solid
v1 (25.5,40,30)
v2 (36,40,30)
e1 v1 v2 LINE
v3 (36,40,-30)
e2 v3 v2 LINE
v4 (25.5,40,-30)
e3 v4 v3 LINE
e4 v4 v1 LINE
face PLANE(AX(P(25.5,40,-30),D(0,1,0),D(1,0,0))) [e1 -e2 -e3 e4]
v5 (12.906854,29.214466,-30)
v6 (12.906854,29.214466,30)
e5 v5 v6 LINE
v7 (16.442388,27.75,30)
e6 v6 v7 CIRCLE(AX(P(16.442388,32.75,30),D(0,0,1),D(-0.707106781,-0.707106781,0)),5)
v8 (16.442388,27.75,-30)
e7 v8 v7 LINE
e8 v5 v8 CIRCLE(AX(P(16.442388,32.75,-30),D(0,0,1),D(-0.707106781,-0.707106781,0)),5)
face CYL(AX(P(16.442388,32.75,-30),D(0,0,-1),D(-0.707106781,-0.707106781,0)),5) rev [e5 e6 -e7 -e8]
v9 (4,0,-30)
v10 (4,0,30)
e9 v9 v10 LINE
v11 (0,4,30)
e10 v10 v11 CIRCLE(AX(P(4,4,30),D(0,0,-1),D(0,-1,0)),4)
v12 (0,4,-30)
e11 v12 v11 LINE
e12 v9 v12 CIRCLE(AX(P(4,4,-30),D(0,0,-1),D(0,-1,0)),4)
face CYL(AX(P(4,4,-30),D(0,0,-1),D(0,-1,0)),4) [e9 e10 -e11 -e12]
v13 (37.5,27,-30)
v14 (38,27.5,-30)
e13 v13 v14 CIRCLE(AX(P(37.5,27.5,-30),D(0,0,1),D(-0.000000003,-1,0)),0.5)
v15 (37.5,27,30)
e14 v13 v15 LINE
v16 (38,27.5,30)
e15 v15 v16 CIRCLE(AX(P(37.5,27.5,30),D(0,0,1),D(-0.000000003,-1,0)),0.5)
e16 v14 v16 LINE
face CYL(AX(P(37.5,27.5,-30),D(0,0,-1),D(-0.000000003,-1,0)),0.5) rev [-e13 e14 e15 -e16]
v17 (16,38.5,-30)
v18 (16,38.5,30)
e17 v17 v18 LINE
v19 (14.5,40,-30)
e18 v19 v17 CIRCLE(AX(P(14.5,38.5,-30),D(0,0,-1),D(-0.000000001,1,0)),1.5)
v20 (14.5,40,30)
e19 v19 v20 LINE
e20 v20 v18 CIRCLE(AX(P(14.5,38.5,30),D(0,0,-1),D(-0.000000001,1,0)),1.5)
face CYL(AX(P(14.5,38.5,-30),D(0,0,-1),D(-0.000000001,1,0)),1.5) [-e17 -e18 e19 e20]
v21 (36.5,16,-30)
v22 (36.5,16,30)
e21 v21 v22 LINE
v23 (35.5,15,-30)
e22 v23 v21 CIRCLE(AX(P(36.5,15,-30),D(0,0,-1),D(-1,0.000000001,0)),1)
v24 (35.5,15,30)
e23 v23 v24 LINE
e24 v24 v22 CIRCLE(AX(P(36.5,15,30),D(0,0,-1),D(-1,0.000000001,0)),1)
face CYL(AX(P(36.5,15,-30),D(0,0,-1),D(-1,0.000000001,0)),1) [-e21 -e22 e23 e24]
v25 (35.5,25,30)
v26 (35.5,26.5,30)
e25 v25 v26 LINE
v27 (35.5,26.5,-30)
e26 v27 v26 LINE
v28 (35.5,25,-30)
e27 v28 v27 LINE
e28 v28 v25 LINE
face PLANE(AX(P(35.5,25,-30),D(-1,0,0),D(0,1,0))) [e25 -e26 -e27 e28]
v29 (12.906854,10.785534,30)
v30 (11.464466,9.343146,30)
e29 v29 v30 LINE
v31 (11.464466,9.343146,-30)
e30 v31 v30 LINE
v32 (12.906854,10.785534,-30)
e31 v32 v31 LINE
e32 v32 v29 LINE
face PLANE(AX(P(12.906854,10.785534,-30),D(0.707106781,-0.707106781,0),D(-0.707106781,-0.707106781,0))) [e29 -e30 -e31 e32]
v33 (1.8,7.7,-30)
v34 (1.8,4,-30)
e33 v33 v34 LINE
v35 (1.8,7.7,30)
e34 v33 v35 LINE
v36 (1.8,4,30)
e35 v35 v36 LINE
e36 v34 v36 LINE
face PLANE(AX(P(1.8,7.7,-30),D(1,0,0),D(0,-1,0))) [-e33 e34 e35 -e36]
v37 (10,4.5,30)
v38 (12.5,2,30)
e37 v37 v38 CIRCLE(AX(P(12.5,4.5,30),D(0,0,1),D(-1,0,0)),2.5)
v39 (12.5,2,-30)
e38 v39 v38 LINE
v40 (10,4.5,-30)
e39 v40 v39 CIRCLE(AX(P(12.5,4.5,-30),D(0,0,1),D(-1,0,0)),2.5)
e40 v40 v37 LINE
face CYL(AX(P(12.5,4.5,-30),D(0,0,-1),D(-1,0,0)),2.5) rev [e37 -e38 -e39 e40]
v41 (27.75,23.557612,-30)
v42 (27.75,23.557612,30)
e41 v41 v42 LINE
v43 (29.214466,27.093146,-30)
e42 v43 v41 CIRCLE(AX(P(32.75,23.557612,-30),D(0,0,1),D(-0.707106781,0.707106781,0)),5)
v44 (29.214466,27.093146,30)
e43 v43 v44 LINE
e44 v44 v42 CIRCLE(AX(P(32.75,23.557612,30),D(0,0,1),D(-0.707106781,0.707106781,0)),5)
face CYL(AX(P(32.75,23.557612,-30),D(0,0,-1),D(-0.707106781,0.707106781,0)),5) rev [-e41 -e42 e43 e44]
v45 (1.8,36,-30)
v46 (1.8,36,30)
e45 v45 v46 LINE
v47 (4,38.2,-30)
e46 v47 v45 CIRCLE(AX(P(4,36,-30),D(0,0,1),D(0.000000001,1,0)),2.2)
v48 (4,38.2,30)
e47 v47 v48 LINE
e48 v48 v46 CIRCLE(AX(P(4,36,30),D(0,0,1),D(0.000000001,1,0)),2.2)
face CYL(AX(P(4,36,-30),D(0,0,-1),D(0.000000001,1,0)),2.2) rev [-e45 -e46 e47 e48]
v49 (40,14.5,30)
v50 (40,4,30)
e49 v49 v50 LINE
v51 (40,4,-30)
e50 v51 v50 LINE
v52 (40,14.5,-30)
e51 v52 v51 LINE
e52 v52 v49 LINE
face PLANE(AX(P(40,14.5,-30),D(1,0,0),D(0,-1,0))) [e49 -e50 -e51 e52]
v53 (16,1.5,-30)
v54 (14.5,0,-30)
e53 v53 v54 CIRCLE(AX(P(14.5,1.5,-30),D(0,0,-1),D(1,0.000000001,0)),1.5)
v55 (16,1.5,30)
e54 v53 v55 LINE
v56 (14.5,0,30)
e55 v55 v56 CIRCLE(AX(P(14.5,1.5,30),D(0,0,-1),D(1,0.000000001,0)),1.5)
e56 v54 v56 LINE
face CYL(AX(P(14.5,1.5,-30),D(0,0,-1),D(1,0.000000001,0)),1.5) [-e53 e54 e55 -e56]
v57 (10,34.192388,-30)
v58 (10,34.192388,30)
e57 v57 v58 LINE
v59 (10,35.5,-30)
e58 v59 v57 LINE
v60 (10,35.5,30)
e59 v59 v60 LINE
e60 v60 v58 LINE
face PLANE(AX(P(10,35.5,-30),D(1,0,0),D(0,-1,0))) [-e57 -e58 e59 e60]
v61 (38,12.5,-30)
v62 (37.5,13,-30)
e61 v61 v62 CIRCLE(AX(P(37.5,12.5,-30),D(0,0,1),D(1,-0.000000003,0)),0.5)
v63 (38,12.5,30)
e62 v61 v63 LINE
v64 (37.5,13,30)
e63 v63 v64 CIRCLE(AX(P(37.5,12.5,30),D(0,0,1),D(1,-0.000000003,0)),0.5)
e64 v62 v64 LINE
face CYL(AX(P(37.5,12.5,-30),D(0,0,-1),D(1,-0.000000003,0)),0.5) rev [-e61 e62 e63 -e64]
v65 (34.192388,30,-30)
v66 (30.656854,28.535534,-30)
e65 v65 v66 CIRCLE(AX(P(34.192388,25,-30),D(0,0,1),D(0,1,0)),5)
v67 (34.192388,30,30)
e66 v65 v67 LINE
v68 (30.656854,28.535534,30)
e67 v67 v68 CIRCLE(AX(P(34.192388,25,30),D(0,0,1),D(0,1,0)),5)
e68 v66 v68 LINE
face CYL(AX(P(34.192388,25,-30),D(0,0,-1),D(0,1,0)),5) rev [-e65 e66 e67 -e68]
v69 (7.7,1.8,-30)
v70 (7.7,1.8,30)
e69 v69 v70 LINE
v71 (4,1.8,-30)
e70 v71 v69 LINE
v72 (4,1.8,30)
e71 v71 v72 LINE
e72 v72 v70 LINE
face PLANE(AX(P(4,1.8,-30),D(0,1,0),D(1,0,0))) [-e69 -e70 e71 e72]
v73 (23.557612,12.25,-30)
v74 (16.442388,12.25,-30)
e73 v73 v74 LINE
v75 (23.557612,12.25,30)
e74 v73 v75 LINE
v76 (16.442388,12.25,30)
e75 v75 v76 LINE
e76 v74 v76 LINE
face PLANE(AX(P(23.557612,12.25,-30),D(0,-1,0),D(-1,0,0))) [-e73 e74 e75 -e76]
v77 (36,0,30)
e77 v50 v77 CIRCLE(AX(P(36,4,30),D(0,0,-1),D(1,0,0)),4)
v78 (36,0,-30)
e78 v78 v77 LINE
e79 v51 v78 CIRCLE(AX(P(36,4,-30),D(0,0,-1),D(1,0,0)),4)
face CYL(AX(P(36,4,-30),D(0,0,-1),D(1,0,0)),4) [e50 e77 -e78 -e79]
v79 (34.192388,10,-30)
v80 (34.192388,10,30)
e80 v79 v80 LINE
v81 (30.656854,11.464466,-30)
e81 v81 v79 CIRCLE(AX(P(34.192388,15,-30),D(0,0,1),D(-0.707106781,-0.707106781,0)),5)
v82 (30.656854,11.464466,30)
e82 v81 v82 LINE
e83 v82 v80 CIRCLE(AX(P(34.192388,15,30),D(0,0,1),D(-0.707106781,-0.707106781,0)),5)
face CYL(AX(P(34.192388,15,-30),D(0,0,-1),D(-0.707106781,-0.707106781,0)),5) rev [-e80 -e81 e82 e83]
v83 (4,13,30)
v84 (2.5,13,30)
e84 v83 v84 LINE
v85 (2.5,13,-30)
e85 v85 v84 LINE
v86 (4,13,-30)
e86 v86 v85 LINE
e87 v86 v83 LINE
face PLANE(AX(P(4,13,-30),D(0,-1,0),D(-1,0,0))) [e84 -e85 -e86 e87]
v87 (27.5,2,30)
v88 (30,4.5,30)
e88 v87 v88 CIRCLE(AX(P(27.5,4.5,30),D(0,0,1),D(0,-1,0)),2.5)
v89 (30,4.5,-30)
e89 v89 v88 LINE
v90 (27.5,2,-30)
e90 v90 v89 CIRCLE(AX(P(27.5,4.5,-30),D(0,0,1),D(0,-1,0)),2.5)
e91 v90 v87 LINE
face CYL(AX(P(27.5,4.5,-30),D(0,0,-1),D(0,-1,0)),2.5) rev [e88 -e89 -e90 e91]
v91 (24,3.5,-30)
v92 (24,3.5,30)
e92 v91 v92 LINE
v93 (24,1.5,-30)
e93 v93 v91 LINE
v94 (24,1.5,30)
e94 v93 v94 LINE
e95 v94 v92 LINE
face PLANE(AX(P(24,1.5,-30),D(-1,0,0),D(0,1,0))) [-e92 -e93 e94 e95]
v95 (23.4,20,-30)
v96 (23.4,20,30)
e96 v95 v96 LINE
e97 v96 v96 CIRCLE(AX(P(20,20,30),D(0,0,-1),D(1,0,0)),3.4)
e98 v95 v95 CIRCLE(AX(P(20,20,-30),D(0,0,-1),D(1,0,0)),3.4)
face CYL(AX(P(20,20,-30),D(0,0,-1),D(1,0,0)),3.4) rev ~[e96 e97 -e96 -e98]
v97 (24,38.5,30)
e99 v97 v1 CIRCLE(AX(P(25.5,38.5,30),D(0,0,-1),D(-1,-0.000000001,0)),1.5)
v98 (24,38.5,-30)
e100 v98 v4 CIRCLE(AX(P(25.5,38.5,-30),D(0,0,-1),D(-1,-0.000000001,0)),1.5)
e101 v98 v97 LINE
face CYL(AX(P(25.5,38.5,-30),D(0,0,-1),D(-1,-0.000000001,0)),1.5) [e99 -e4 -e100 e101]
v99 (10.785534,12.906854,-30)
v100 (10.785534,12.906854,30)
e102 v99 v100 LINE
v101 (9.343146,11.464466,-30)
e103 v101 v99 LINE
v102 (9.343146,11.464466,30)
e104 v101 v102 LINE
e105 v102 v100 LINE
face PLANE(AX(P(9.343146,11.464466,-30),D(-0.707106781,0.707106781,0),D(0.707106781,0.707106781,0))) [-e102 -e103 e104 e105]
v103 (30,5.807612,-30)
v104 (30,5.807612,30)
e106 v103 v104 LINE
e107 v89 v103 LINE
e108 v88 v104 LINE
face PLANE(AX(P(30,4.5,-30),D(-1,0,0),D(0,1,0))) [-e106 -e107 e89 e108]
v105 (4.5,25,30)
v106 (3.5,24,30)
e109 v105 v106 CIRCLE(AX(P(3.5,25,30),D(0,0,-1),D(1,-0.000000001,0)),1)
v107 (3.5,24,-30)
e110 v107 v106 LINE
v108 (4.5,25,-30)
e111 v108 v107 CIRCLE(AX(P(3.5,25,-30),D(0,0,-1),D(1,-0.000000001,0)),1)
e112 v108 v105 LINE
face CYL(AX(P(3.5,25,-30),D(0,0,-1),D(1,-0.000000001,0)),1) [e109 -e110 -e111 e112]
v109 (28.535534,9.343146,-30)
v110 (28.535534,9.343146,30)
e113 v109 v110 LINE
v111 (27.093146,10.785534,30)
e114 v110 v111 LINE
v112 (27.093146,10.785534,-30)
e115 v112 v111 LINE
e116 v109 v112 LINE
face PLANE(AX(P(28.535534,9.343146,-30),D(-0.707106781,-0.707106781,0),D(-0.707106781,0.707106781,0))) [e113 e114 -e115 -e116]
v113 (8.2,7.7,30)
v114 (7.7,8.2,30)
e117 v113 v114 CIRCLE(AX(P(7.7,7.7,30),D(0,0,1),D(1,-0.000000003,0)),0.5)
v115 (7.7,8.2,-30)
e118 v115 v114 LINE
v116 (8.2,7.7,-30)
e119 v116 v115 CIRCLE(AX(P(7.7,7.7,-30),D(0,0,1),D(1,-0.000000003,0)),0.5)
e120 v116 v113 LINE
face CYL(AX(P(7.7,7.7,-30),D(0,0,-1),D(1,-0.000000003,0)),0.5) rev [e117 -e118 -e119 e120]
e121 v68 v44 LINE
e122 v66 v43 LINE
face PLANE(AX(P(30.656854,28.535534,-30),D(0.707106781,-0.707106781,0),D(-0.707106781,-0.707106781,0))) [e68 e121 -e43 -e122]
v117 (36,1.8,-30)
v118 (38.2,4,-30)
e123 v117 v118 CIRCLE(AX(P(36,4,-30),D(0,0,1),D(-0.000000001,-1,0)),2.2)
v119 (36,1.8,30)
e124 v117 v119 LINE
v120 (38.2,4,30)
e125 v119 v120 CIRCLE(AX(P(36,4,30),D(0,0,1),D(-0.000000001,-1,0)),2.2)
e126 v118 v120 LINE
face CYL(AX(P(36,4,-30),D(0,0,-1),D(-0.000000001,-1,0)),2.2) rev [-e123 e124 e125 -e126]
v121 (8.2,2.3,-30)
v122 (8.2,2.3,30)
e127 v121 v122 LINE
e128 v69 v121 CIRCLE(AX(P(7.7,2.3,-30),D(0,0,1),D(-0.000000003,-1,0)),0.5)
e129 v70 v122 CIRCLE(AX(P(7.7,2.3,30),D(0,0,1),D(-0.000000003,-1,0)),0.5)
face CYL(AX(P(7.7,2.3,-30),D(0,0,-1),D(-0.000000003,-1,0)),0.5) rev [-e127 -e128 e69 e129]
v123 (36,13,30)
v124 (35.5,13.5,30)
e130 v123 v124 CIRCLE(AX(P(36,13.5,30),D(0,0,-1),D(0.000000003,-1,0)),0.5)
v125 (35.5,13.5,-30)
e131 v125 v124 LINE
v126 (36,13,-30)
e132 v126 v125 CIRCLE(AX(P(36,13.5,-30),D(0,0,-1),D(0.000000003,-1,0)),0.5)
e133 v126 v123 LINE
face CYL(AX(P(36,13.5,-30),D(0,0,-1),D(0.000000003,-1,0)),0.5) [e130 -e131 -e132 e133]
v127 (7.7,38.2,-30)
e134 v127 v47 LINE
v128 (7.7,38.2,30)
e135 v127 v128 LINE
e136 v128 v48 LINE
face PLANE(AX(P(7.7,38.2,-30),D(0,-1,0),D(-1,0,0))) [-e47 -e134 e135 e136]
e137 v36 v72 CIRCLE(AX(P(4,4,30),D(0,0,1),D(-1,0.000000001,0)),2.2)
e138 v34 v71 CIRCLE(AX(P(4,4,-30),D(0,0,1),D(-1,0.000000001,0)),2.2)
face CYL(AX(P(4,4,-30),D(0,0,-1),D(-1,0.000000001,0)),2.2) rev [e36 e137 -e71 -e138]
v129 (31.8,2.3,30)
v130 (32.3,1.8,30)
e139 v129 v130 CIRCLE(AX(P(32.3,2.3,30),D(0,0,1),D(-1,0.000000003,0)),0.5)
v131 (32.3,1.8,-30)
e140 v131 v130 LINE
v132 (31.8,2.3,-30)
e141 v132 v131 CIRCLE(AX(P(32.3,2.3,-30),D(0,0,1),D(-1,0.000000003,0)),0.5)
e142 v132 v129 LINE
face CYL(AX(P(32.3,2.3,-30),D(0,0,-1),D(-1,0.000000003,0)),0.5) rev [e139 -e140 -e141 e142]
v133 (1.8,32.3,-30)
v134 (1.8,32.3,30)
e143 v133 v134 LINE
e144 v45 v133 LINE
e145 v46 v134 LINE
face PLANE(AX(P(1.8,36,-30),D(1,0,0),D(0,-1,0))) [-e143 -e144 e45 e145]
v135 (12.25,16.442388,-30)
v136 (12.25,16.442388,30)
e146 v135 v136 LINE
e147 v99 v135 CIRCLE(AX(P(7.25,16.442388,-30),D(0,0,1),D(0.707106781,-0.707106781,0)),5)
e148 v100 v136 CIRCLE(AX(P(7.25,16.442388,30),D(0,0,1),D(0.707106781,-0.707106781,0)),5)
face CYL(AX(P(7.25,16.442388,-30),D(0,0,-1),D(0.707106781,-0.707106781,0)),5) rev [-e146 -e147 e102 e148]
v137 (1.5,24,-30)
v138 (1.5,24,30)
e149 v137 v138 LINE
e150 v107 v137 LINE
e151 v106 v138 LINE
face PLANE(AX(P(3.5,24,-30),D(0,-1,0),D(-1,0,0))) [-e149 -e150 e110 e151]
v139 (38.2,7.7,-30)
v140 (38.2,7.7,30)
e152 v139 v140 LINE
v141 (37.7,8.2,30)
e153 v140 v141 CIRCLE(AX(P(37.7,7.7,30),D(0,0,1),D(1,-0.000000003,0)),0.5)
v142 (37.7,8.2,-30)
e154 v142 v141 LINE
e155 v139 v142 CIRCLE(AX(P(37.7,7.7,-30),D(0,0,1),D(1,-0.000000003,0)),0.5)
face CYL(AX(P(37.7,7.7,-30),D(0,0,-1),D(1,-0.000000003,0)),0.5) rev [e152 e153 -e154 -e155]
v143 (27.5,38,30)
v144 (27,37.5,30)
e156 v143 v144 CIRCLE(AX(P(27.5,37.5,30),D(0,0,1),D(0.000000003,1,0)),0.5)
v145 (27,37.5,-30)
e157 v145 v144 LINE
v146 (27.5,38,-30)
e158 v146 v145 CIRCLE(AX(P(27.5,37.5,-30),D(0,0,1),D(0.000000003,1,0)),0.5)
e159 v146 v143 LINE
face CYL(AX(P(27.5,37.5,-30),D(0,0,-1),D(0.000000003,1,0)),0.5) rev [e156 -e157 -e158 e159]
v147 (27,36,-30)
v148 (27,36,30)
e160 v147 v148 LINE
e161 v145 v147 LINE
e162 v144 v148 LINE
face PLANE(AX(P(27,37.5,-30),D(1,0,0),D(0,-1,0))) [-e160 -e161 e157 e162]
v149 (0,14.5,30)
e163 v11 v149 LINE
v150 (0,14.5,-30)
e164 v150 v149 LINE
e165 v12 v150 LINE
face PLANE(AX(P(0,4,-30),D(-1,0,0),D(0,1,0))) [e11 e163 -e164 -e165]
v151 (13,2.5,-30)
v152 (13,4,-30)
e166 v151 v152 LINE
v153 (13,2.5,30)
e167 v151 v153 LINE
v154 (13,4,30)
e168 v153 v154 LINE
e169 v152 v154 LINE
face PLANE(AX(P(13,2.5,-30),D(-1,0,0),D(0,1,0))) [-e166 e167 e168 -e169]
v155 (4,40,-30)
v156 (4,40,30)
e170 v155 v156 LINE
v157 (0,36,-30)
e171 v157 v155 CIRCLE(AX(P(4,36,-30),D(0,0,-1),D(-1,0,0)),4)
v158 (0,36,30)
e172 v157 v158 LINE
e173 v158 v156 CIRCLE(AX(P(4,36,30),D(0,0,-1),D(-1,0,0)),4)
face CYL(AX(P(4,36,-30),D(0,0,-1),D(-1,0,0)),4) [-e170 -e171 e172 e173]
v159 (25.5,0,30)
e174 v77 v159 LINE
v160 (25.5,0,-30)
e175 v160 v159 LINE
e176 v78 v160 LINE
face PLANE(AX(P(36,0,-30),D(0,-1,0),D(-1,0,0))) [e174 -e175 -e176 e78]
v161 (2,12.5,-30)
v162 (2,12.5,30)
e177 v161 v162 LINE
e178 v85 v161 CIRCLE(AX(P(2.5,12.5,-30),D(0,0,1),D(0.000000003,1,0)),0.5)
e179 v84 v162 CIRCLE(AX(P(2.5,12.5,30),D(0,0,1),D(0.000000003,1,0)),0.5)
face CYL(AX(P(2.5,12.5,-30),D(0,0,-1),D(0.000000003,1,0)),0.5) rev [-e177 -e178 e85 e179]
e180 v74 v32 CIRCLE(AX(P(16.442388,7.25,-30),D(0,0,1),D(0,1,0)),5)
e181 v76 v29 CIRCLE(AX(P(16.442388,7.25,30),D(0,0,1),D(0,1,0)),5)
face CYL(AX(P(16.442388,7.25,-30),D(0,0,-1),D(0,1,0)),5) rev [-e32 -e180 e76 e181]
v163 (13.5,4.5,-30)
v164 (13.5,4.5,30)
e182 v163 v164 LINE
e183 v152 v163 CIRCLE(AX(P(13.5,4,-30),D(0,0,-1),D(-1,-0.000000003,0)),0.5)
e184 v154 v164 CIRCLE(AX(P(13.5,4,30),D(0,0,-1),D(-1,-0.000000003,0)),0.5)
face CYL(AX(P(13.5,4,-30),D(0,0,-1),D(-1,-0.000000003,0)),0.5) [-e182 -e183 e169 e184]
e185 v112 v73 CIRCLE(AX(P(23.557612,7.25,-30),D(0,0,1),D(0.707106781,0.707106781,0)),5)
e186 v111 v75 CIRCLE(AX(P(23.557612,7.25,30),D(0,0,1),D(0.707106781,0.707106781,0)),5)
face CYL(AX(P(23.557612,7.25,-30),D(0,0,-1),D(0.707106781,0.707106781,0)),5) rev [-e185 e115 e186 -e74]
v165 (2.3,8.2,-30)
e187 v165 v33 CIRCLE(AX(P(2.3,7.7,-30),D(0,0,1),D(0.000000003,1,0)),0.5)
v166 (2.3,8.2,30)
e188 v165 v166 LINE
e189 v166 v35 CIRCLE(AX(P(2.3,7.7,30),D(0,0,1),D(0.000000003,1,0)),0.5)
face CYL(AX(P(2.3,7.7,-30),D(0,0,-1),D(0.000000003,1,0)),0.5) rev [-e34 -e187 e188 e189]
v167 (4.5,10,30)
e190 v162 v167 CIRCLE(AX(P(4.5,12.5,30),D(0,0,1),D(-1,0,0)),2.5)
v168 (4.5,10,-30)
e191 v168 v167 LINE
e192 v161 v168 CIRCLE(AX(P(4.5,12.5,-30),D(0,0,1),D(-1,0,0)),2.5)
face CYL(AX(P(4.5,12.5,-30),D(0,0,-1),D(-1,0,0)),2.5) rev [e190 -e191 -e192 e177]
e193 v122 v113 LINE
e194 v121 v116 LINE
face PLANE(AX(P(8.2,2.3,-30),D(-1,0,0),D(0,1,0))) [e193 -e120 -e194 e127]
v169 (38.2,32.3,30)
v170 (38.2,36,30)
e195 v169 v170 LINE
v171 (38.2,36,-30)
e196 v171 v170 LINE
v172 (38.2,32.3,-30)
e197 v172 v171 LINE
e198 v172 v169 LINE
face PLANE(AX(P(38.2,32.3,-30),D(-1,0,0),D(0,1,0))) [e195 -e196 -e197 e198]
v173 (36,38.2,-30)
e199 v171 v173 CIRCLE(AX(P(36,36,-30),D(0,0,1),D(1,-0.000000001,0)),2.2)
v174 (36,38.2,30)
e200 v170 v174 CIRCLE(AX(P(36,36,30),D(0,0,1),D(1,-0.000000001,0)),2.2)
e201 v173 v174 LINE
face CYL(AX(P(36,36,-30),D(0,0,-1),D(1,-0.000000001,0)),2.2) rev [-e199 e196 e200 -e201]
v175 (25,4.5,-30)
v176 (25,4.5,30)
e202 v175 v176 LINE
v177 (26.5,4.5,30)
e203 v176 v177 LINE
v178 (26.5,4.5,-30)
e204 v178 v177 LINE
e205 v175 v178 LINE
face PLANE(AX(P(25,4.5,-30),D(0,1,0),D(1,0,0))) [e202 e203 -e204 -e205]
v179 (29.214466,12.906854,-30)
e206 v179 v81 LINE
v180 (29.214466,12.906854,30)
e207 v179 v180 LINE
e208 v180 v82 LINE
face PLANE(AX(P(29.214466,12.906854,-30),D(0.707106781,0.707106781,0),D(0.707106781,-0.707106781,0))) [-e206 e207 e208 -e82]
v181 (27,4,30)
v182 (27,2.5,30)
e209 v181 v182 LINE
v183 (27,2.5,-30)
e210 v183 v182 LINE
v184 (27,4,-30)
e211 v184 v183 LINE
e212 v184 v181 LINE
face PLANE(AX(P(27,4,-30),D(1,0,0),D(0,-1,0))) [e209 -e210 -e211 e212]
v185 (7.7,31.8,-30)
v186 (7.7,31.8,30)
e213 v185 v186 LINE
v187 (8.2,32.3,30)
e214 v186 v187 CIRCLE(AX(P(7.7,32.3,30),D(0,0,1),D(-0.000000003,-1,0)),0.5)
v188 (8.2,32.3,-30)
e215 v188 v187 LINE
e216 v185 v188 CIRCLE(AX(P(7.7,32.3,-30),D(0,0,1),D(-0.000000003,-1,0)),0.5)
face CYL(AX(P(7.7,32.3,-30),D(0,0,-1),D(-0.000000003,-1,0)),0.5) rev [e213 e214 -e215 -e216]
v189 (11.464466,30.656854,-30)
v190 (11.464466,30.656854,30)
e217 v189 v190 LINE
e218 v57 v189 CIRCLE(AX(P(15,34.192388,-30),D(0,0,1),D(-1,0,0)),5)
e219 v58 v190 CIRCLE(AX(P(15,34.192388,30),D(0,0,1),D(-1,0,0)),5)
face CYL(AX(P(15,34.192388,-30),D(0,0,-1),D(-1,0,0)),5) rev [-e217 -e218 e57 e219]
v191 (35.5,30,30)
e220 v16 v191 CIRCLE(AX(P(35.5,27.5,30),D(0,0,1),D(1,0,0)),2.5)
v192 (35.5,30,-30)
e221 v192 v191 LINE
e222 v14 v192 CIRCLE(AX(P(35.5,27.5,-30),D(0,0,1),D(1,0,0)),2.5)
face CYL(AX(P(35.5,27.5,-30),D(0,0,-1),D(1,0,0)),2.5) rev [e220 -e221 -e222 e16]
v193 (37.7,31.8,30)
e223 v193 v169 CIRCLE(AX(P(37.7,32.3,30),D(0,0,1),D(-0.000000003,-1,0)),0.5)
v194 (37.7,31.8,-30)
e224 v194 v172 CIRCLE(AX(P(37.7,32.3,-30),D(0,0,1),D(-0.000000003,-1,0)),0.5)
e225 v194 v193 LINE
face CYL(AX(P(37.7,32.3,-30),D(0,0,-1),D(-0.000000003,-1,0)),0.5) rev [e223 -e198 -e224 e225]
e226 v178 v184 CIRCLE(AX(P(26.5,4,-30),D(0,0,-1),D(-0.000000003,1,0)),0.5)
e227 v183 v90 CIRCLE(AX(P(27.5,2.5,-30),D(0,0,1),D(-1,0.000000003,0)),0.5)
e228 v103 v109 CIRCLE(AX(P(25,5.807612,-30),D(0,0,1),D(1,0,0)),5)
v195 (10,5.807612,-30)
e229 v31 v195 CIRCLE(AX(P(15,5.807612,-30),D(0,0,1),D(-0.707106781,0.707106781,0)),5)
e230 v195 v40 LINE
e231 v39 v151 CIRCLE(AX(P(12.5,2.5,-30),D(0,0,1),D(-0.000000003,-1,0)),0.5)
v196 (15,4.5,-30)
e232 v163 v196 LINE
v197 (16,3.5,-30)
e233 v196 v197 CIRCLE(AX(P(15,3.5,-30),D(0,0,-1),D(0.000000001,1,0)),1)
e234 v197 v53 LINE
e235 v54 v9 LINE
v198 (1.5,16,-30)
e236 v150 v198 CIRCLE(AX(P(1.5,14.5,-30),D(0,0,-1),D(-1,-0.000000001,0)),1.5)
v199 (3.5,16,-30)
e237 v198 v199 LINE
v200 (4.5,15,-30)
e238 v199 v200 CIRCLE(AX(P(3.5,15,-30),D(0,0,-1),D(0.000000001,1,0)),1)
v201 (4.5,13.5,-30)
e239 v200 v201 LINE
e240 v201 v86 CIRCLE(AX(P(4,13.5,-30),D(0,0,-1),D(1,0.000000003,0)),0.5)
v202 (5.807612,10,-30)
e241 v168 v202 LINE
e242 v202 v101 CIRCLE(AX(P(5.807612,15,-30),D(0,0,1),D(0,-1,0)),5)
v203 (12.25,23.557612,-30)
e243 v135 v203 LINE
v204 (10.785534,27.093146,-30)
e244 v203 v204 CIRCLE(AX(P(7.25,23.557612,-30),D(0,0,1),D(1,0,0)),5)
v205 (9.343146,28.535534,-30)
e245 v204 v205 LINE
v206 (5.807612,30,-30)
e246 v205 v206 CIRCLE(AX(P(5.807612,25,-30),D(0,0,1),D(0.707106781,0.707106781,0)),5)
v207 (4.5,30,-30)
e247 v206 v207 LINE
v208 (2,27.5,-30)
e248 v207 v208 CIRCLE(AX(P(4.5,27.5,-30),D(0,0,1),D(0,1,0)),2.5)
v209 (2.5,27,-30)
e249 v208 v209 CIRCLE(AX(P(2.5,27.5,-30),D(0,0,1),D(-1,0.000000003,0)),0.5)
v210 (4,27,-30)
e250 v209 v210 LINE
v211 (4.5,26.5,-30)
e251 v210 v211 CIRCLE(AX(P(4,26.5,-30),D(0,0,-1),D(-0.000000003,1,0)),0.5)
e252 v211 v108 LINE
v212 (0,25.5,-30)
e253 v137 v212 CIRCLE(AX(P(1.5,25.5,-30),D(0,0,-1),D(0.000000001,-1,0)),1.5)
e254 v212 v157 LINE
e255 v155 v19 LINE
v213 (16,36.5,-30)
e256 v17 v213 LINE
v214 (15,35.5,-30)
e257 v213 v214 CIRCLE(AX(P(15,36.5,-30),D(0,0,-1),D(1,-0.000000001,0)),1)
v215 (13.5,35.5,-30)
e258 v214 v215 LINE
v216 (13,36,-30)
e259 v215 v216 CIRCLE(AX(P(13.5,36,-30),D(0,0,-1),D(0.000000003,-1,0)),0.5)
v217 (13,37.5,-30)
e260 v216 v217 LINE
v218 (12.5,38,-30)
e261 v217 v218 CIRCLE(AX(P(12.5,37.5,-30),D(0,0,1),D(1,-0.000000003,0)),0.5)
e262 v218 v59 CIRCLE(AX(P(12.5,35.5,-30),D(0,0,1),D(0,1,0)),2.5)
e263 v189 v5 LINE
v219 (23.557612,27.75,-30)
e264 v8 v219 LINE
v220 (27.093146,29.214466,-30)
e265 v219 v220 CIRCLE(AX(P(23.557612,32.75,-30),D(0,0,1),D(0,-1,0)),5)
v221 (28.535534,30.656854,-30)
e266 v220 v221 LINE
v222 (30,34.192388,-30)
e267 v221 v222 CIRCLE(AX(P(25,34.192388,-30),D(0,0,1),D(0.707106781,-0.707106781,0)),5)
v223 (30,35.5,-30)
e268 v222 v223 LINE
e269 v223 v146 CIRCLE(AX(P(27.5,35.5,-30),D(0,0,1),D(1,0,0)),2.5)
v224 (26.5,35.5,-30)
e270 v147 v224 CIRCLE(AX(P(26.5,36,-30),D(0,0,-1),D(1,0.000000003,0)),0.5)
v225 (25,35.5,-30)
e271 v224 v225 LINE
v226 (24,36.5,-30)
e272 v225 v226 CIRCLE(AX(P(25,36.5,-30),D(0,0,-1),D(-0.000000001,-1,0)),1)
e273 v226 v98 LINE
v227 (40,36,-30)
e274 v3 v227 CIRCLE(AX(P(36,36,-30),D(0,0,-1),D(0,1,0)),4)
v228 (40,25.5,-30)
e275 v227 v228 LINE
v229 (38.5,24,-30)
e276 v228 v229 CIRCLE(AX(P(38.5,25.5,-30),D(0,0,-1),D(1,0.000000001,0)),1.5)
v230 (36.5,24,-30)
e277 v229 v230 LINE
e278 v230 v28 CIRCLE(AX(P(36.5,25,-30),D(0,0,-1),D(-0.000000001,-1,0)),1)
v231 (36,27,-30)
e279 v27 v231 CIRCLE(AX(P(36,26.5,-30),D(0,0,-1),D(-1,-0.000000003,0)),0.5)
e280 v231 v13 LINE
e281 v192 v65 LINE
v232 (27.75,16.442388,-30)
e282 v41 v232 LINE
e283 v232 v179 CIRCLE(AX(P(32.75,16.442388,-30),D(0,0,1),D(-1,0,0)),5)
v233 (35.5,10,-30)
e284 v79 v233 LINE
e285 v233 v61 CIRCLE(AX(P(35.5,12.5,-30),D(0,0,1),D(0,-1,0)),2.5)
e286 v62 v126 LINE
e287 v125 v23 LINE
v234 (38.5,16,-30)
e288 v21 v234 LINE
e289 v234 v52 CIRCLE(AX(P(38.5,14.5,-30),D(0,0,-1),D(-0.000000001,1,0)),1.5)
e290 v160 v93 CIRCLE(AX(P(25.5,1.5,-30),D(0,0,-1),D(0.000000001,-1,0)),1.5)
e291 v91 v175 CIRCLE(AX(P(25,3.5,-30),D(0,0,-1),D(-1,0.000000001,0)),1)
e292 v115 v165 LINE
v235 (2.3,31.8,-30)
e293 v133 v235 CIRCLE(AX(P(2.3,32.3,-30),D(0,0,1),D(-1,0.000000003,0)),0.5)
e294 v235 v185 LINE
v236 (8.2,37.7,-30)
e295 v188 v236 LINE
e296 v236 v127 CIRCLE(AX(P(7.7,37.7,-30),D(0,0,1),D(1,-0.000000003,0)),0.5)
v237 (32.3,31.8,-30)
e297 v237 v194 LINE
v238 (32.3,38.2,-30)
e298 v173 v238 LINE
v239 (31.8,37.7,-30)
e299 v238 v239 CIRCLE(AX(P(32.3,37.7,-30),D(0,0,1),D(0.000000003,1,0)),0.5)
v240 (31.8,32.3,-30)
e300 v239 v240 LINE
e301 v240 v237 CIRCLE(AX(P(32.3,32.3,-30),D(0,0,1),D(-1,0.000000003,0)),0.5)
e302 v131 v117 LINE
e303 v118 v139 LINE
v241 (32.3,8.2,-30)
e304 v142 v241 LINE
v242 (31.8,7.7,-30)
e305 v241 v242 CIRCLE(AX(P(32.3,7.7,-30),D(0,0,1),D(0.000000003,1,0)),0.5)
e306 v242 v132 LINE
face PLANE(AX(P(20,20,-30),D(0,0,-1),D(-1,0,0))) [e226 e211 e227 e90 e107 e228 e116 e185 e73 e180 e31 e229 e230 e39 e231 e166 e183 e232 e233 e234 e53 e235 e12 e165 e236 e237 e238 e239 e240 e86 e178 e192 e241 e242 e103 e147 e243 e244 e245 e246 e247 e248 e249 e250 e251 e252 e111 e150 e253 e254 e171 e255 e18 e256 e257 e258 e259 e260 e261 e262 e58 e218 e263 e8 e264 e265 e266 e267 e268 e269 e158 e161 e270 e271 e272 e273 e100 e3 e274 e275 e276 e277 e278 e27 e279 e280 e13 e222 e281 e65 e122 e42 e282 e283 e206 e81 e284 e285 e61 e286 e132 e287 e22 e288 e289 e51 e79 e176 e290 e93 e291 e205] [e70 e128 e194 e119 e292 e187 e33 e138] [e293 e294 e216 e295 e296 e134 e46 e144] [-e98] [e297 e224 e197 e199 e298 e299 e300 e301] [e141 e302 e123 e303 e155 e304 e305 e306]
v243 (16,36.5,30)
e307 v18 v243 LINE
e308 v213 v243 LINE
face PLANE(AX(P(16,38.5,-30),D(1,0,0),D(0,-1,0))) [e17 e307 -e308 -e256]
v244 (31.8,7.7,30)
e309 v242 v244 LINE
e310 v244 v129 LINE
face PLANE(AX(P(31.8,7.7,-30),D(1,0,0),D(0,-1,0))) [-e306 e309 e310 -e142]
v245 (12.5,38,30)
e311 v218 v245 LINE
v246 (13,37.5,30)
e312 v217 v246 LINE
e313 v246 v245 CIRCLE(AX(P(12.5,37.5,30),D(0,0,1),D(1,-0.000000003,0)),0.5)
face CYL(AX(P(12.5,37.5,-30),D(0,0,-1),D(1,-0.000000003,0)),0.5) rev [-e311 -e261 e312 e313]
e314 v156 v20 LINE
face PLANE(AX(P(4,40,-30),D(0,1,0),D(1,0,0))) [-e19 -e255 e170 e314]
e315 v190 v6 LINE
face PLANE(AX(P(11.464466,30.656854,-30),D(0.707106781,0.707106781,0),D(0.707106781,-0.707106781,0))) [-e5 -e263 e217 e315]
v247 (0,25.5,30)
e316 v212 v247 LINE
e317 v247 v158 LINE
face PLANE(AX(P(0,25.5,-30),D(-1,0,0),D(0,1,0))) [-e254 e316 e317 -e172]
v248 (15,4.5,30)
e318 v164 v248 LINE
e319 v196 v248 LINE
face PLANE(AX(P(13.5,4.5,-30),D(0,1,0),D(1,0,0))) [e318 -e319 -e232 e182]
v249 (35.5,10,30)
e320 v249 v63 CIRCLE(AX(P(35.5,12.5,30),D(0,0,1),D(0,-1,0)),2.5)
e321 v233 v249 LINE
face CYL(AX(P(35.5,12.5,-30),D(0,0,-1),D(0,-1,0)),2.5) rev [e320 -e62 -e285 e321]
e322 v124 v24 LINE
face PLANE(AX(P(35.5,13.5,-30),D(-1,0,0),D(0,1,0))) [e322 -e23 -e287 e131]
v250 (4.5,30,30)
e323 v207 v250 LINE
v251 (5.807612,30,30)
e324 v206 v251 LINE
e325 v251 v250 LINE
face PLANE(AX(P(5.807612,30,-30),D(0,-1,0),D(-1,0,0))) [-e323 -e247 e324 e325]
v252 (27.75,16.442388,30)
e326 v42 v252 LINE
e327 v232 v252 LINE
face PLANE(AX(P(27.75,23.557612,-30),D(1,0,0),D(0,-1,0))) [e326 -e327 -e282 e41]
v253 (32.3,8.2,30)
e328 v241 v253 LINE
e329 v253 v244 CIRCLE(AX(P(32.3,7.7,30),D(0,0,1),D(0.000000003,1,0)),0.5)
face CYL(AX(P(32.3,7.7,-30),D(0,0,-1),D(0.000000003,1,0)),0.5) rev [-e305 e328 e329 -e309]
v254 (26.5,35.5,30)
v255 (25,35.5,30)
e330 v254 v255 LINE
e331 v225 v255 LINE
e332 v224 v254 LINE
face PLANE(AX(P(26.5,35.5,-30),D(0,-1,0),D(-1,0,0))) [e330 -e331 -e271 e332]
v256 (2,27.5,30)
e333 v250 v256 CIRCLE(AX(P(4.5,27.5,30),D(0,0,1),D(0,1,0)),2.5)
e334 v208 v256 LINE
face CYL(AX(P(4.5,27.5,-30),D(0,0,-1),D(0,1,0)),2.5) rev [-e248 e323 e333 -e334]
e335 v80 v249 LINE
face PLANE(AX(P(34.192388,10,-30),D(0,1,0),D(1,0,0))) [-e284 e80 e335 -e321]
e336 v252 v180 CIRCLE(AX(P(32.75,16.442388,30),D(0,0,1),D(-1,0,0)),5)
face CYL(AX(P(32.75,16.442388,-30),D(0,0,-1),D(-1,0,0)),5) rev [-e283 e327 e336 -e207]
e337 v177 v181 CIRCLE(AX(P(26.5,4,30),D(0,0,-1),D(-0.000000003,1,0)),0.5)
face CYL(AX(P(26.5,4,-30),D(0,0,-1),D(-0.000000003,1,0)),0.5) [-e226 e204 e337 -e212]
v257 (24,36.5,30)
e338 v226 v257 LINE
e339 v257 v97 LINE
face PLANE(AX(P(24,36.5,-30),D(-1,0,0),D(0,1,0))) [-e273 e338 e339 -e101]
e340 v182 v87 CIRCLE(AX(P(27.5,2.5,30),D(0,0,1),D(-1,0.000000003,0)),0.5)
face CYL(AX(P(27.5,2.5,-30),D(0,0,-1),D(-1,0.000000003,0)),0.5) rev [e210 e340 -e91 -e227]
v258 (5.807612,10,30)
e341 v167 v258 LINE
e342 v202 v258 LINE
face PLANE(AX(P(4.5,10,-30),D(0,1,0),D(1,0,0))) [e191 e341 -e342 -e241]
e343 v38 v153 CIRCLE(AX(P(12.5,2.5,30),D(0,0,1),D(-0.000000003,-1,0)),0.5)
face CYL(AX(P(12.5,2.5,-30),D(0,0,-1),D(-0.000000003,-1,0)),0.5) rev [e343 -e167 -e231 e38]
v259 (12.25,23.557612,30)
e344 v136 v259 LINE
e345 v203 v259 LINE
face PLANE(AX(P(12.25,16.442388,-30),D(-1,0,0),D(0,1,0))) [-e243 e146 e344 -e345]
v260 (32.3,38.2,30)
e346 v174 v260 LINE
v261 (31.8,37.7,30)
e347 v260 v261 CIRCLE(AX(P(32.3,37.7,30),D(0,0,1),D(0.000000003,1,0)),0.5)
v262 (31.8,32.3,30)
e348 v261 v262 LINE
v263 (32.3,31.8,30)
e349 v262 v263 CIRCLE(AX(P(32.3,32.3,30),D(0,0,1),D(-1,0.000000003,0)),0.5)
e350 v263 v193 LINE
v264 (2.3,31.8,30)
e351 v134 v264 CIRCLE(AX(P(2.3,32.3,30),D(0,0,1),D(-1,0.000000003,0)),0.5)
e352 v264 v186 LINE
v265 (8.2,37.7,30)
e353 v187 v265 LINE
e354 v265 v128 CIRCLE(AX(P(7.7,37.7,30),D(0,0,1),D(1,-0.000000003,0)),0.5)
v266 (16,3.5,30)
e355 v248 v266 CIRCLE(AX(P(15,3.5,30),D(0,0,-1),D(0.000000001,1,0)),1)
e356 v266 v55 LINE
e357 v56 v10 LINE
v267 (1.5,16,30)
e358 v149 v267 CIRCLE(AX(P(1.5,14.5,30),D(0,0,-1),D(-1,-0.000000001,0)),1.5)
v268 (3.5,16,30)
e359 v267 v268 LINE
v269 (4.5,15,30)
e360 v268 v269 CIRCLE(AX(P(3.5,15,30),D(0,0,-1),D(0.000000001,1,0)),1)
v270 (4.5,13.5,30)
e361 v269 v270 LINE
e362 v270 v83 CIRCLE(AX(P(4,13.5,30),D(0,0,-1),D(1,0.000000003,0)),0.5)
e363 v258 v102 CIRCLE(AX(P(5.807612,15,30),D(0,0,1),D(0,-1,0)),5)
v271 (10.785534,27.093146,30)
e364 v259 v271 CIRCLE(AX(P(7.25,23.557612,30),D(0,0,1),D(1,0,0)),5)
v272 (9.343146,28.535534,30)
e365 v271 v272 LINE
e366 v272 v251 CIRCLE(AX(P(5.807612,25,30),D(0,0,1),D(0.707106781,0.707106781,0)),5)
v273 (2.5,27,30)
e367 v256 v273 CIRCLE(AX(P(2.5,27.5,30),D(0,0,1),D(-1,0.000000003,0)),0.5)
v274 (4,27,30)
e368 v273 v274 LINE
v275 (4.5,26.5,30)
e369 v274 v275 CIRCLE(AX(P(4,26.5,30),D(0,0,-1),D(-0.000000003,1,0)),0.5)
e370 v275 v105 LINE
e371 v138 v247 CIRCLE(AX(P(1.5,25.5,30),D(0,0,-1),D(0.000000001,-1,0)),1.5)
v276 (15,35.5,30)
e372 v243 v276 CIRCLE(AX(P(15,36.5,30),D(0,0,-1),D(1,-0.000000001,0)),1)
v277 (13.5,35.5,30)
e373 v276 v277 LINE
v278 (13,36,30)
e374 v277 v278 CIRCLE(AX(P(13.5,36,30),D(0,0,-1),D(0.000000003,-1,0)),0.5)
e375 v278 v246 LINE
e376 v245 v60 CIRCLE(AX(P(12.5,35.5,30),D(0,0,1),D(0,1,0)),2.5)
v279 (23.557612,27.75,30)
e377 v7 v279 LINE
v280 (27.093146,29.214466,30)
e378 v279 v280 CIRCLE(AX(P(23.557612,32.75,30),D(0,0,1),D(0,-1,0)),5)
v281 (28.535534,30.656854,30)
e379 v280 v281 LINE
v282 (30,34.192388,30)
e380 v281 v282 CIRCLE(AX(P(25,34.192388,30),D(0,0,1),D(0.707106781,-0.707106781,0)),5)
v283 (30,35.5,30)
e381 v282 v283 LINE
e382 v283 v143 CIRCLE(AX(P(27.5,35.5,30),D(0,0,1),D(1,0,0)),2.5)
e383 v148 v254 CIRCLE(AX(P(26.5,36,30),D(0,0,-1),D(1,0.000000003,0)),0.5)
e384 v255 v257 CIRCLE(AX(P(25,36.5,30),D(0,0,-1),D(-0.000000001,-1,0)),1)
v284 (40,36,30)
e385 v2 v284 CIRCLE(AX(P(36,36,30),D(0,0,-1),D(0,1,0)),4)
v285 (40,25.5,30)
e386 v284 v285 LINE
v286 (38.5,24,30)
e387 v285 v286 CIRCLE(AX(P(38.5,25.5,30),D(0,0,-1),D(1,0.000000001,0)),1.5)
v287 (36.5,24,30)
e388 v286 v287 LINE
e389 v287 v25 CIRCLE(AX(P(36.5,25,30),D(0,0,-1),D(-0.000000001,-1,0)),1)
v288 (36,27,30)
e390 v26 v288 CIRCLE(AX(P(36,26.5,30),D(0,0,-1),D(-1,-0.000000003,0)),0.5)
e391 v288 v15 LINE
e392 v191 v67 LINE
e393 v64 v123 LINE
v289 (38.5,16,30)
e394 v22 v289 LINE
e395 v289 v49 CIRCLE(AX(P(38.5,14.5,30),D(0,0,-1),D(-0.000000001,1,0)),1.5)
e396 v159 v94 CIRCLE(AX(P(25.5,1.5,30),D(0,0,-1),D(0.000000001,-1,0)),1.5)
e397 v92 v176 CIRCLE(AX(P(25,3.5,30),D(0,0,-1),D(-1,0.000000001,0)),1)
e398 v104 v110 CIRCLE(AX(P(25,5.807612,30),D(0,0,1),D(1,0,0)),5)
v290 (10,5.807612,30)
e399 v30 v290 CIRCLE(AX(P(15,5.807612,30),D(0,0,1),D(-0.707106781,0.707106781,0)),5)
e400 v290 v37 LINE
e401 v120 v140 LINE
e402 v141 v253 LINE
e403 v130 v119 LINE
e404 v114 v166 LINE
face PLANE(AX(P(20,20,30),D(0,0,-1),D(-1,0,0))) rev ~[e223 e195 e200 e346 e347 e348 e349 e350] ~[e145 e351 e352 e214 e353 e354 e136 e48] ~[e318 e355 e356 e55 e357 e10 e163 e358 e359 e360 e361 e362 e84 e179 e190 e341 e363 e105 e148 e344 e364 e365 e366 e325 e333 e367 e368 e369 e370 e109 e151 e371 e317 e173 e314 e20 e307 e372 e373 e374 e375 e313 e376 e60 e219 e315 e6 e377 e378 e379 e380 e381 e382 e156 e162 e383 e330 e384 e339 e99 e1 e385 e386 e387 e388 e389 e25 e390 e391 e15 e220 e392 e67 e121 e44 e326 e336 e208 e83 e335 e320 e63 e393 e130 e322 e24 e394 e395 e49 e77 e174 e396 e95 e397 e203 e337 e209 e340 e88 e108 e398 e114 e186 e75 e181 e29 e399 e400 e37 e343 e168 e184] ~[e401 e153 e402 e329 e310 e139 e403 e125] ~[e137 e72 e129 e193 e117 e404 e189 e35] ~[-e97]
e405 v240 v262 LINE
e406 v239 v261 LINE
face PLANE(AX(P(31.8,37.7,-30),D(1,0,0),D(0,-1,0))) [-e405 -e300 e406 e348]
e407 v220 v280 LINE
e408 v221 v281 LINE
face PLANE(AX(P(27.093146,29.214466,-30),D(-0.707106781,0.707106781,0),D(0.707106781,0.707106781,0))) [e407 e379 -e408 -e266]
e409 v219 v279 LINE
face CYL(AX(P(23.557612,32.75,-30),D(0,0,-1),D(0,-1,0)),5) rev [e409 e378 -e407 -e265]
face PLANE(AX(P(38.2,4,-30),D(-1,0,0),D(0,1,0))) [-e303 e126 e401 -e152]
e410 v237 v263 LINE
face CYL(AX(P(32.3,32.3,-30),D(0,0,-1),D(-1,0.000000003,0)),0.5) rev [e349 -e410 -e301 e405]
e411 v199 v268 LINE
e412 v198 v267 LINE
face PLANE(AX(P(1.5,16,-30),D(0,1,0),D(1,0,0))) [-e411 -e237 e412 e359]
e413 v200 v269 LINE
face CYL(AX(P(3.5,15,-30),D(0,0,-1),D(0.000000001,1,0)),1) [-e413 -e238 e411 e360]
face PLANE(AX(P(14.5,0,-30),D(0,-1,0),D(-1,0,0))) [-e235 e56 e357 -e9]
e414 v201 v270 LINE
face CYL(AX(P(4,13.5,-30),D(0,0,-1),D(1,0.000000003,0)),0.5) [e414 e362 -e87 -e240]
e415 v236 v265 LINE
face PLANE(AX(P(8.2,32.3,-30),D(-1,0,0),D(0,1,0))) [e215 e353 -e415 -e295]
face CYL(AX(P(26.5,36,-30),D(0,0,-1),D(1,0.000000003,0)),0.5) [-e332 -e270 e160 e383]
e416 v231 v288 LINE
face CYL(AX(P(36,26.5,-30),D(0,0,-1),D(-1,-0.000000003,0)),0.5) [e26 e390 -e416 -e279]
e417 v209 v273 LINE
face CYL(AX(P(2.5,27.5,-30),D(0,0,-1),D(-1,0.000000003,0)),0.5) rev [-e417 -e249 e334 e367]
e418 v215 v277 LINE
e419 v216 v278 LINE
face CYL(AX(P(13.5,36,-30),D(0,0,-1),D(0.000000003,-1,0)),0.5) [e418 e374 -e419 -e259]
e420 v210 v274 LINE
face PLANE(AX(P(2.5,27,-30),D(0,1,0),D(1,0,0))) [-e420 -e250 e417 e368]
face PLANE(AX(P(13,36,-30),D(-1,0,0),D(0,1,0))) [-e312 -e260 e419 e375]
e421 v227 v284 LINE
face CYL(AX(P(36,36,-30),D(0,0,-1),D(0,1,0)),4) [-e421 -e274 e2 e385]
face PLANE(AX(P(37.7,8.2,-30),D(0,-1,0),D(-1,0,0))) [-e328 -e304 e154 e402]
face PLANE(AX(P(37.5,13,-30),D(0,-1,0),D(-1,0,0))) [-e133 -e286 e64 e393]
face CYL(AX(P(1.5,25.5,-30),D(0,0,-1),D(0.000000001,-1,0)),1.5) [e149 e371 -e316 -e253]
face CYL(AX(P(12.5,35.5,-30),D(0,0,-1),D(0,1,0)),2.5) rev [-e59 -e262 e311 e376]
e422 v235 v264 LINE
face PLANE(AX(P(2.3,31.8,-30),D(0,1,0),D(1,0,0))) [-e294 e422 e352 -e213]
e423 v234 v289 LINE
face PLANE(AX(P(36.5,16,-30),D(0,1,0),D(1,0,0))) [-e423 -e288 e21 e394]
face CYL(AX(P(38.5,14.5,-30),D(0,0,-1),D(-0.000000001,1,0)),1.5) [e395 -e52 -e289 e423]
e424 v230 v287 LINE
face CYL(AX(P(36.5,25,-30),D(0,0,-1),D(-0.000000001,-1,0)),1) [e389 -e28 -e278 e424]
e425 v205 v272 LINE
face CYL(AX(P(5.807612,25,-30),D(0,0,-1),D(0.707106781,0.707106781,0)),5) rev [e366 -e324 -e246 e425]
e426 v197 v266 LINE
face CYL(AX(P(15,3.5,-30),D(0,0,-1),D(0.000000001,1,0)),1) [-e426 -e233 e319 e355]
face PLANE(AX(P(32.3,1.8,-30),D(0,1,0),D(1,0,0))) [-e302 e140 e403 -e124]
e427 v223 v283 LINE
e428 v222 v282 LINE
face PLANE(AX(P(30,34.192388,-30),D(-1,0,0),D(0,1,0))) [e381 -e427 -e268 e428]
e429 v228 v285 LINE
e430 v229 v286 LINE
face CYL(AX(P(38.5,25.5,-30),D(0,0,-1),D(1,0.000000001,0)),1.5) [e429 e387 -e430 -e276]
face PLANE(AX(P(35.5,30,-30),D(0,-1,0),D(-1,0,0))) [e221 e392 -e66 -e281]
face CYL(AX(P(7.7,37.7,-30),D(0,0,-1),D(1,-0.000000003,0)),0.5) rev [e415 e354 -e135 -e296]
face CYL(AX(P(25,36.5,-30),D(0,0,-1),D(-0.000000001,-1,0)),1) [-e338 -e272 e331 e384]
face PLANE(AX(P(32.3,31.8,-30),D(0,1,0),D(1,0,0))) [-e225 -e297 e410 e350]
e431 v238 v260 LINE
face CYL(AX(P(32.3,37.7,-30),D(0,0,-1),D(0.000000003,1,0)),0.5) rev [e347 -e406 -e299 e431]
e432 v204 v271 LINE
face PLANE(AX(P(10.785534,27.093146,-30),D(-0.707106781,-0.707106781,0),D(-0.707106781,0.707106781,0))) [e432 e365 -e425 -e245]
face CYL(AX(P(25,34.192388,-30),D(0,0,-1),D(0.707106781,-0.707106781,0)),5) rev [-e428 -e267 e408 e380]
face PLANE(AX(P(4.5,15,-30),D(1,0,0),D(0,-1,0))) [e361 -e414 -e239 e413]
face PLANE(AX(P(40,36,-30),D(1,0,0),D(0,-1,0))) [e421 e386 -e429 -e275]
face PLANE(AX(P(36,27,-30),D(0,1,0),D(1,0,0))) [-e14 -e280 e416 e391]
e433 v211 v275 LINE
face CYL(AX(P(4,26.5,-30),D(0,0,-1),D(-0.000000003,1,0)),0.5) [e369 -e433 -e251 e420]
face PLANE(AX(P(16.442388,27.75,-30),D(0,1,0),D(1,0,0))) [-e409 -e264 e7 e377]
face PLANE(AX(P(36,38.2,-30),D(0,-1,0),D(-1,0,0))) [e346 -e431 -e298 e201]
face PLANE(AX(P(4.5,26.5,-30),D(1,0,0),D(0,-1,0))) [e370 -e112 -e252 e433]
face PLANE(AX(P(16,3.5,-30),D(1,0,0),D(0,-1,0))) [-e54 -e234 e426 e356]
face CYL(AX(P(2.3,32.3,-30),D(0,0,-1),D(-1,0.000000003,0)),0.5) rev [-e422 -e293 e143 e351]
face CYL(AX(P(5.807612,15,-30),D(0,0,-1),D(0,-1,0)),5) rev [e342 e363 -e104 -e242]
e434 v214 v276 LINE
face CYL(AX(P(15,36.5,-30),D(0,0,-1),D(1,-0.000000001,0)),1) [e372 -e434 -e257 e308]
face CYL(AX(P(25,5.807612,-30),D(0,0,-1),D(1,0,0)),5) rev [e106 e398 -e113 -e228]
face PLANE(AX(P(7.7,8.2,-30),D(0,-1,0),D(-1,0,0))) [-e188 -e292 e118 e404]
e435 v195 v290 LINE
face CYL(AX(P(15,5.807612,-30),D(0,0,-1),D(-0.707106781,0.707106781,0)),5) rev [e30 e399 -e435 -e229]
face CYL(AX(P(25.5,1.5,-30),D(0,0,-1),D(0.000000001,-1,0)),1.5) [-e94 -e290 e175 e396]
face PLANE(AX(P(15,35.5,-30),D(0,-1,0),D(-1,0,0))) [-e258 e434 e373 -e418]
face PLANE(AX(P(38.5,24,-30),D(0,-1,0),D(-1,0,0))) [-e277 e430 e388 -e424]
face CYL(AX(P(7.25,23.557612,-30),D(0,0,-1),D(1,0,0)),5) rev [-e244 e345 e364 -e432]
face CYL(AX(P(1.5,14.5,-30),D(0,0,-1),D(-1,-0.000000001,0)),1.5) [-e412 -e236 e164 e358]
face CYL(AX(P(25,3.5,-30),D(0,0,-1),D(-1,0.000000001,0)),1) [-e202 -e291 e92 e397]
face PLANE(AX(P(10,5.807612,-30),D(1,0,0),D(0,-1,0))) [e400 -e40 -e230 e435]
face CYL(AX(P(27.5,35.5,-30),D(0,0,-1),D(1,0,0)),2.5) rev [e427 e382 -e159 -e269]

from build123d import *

# Parameters (mm, degrees)
ESQUISSE1_R        = 3.4
BOSS_EXTRU_1_DEPTH = 60


with BuildPart() as part:
    # Esquisse1 → Boss.-Extru.1 (new body)
    with BuildSketch(Plane(origin=(0, 0, -30), x_dir=(-1, 0, 0), z_dir=(0, 0, -1))):
        with BuildLine():
            Line((-4.5, 15), (-4.5, 13.5))
            ThreePointArc((-4.5, 13.5), (-4.353553391, 13.146446609), (-4, 13))
            Line((-4, 13), (-2.5, 13))
            ThreePointArc((-2.5, 13), (-2.146446609, 12.853553391), (-2, 12.5))
            ThreePointArc((-2, 12.5), (-2.732233047, 10.732233047), (-4.5, 10))
            Line((-4.5, 10), (-5.807611845, 10))
            ThreePointArc((-5.807611845, 10), (-7.721029006, 10.380602337), (-9.343145751, 11.464466094))
            Line((-9.343145751, 11.464466094), (-10.785533906, 12.906854249))
            ThreePointArc((-10.785533906, 12.906854249), (-11.869397663, 14.528970994), (-12.25, 16.442388155))
            Line((-12.25, 16.442388155), (-12.25, 23.557611845))
            ThreePointArc((-12.25, 23.557611845), (-11.869397663, 25.471029006), (-10.785533906, 27.093145751))
            Line((-10.785533906, 27.093145751), (-9.343145751, 28.535533906))
            ThreePointArc((-9.343145751, 28.535533906), (-7.721029006, 29.619397663), (-5.807611845, 30))
            Line((-5.807611845, 30), (-4.5, 30))
            ThreePointArc((-4.5, 30), (-2.732233047, 29.267766953), (-2, 27.5))
            ThreePointArc((-2, 27.5), (-2.146446609, 27.146446609), (-2.5, 27))
            Line((-2.5, 27), (-4, 27))
            ThreePointArc((-4, 27), (-4.353553391, 26.853553391), (-4.5, 26.5))
            Line((-4.5, 26.5), (-4.5, 25))
            ThreePointArc((-4.5, 25), (-4.207106781, 24.292893219), (-3.5, 24))
            Line((-3.5, 24), (-1.5, 24))
            ThreePointArc((-1.5, 24), (-0.439339828, 24.439339828), (0, 25.5))
            Line((0, 25.5), (0, 36))
            ThreePointArc((0, 36), (-1.171572875, 38.828427125), (-4, 40))
            Line((-4, 40), (-14.5, 40))
            ThreePointArc((-14.5, 40), (-15.560660172, 39.560660172), (-16, 38.5))
            Line((-16, 38.5), (-16, 36.5))
            ThreePointArc((-16, 36.5), (-15.707106781, 35.792893219), (-15, 35.5))
            Line((-15, 35.5), (-13.5, 35.5))
            ThreePointArc((-13.5, 35.5), (-13.146446609, 35.646446609), (-13, 36))
            Line((-13, 36), (-13, 37.5))
            ThreePointArc((-13, 37.5), (-12.853553391, 37.853553391), (-12.5, 38))
            ThreePointArc((-12.5, 38), (-10.732233047, 37.267766953), (-10, 35.5))
            Line((-10, 35.5), (-10, 34.192388155))
            ThreePointArc((-10, 34.192388155), (-10.380602337, 32.278970994), (-11.464466094, 30.656854249))
            Line((-11.464466094, 30.656854249), (-12.906854249, 29.214466094))
            ThreePointArc((-12.906854249, 29.214466094), (-14.528970994, 28.130602337), (-16.442388155, 27.75))
            Line((-16.442388155, 27.75), (-23.557611845, 27.75))
            ThreePointArc((-23.557611845, 27.75), (-25.471029006, 28.130602337), (-27.093145751, 29.214466094))
            Line((-27.093145751, 29.214466094), (-28.535533906, 30.656854249))
            ThreePointArc((-28.535533906, 30.656854249), (-29.619397663, 32.278970994), (-30, 34.192388155))
            Line((-30, 34.192388155), (-30, 35.5))
            ThreePointArc((-30, 35.5), (-29.267766953, 37.267766953), (-27.5, 38))
            ThreePointArc((-27.5, 38), (-27.146446609, 37.853553391), (-27, 37.5))
            Line((-27, 37.5), (-27, 36))
            ThreePointArc((-27, 36), (-26.853553391, 35.646446609), (-26.5, 35.5))
            Line((-26.5, 35.5), (-25, 35.5))
            ThreePointArc((-25, 35.5), (-24.292893219, 35.792893219), (-24, 36.5))
            Line((-24, 36.5), (-24, 38.5))
            ThreePointArc((-24, 38.5), (-24.439339828, 39.560660172), (-25.5, 40))
            Line((-25.5, 40), (-36, 40))
            ThreePointArc((-36, 40), (-38.828427125, 38.828427125), (-40, 36))
            Line((-40, 36), (-40, 25.5))
            ThreePointArc((-40, 25.5), (-39.560660172, 24.439339828), (-38.5, 24))
            Line((-38.5, 24), (-36.5, 24))
            ThreePointArc((-36.5, 24), (-35.792893219, 24.292893219), (-35.5, 25))
            Line((-35.5, 25), (-35.5, 26.5))
            ThreePointArc((-35.5, 26.5), (-35.646446609, 26.853553391), (-36, 27))
            Line((-36, 27), (-37.5, 27))
            ThreePointArc((-37.5, 27), (-37.853553391, 27.146446609), (-38, 27.5))
            ThreePointArc((-38, 27.5), (-37.267766953, 29.267766953), (-35.5, 30))
            Line((-35.5, 30), (-34.192388155, 30))
            ThreePointArc((-34.192388155, 30), (-32.278970994, 29.619397663), (-30.656854249, 28.535533906))
            Line((-30.656854249, 28.535533906), (-29.214466094, 27.093145751))
            ThreePointArc((-29.214466094, 27.093145751), (-28.130602337, 25.471029006), (-27.75, 23.557611845))
            Line((-27.75, 23.557611845), (-27.75, 16.442388155))
            ThreePointArc((-27.75, 16.442388155), (-28.130602337, 14.528970994), (-29.214466094, 12.906854249))
            Line((-29.214466094, 12.906854249), (-30.656854249, 11.464466094))
            ThreePointArc((-30.656854249, 11.464466094), (-32.278970994, 10.380602337), (-34.192388155, 10))
            Line((-34.192388155, 10), (-35.5, 10))
            ThreePointArc((-35.5, 10), (-37.267766953, 10.732233047), (-38, 12.5))
            ThreePointArc((-38, 12.5), (-37.853553391, 12.853553391), (-37.5, 13))
            Line((-37.5, 13), (-36, 13))
            ThreePointArc((-36, 13), (-35.646446609, 13.146446609), (-35.5, 13.5))
            Line((-35.5, 13.5), (-35.5, 15))
            ThreePointArc((-35.5, 15), (-35.792893219, 15.707106781), (-36.5, 16))
            Line((-36.5, 16), (-38.5, 16))
            ThreePointArc((-38.5, 16), (-39.560660172, 15.560660172), (-40, 14.5))
            Line((-40, 14.5), (-40, 4))
            ThreePointArc((-40, 4), (-38.828427125, 1.171572875), (-36, 0))
            Line((-36, 0), (-25.5, 0))
            ThreePointArc((-25.5, 0), (-24.439339828, 0.439339828), (-24, 1.5))
            Line((-24, 1.5), (-24, 3.5))
            ThreePointArc((-24, 3.5), (-24.292893219, 4.207106781), (-25, 4.5))
            Line((-25, 4.5), (-26.5, 4.5))
            ThreePointArc((-26.5, 4.5), (-26.853553391, 4.353553391), (-27, 4))
            Line((-27, 4), (-27, 2.5))
            ThreePointArc((-27, 2.5), (-27.146446609, 2.146446609), (-27.5, 2))
            ThreePointArc((-27.5, 2), (-29.267766953, 2.732233047), (-30, 4.5))
            Line((-30, 4.5), (-30, 5.807611845))
            ThreePointArc((-30, 5.807611845), (-29.619397663, 7.721029006), (-28.535533906, 9.343145751))
            Line((-28.535533906, 9.343145751), (-27.093145751, 10.785533906))
            ThreePointArc((-27.093145751, 10.785533906), (-25.471029006, 11.869397663), (-23.557611845, 12.25))
            Line((-23.557611845, 12.25), (-16.442388155, 12.25))
            ThreePointArc((-16.442388155, 12.25), (-14.528970994, 11.869397663), (-12.906854249, 10.785533906))
            Line((-12.906854249, 10.785533906), (-11.464466094, 9.343145751))
            ThreePointArc((-11.464466094, 9.343145751), (-10.380602337, 7.721029006), (-10, 5.807611845))
            Line((-10, 5.807611845), (-10, 4.5))
            ThreePointArc((-10, 4.5), (-10.732233047, 2.732233047), (-12.5, 2))
            ThreePointArc((-12.5, 2), (-12.853553391, 2.146446609), (-13, 2.5))
            Line((-13, 2.5), (-13, 4))
            ThreePointArc((-13, 4), (-13.146446609, 4.353553391), (-13.5, 4.5))
            Line((-13.5, 4.5), (-15, 4.5))
            ThreePointArc((-15, 4.5), (-15.707106781, 4.207106781), (-16, 3.5))
            Line((-16, 3.5), (-16, 1.5))
            ThreePointArc((-16, 1.5), (-15.560660172, 0.439339828), (-14.5, 0))
            Line((-14.5, 0), (-4, 0))
            ThreePointArc((-4, 0), (-1.171572875, 1.171572875), (0, 4))
            Line((0, 4), (0, 14.5))
            ThreePointArc((0, 14.5), (-0.439339828, 15.560660172), (-1.5, 16))
            Line((-1.5, 16), (-3.5, 16))
            ThreePointArc((-3.5, 16), (-4.207106781, 15.707106781), (-4.5, 15))
        make_face()
        with Locations(Location((-20, 20, 0), (0, 0, 180))):
            Circle(ESQUISSE1_R, mode=Mode.SUBTRACT)
        with BuildLine():
            Line((-4, 1.8), (-7.7, 1.8))
            ThreePointArc((-7.7, 1.8), (-8.053553391, 1.946446609), (-8.2, 2.3))
            Line((-8.2, 2.3), (-8.2, 7.7))
            ThreePointArc((-8.2, 7.7), (-8.053553391, 8.053553391), (-7.7, 8.2))
            Line((-7.7, 8.2), (-2.3, 8.2))
            ThreePointArc((-2.3, 8.2), (-1.946446609, 8.053553391), (-1.8, 7.7))
            Line((-1.8, 7.7), (-1.8, 4))
            ThreePointArc((-1.8, 4), (-2.444365081, 2.444365081), (-4, 1.8))
        make_face(mode=Mode.SUBTRACT)
        with BuildLine():
            Line((-38.2, 4), (-38.2, 7.7))
            ThreePointArc((-38.2, 7.7), (-38.053553391, 8.053553391), (-37.7, 8.2))
            Line((-37.7, 8.2), (-32.3, 8.2))
            ThreePointArc((-32.3, 8.2), (-31.946446609, 8.053553391), (-31.8, 7.7))
            Line((-31.8, 7.7), (-31.8, 2.3))
            ThreePointArc((-31.8, 2.3), (-31.946446609, 1.946446609), (-32.3, 1.8))
            Line((-32.3, 1.8), (-36, 1.8))
            ThreePointArc((-36, 1.8), (-37.555634919, 2.444365081), (-38.2, 4))
        make_face(mode=Mode.SUBTRACT)
        with BuildLine():
            Line((-36, 38.2), (-32.3, 38.2))
            ThreePointArc((-32.3, 38.2), (-31.946446609, 38.053553391), (-31.8, 37.7))
            Line((-31.8, 37.7), (-31.8, 32.3))
            ThreePointArc((-31.8, 32.3), (-31.946446609, 31.946446609), (-32.3, 31.8))
            Line((-32.3, 31.8), (-37.7, 31.8))
            ThreePointArc((-37.7, 31.8), (-38.053553391, 31.946446609), (-38.2, 32.3))
            Line((-38.2, 32.3), (-38.2, 36))
            ThreePointArc((-38.2, 36), (-37.555634919, 37.555634919), (-36, 38.2))
        make_face(mode=Mode.SUBTRACT)
        with BuildLine():
            Line((-1.8, 36), (-1.8, 32.3))
            ThreePointArc((-1.8, 32.3), (-1.946446609, 31.946446609), (-2.3, 31.8))
            Line((-2.3, 31.8), (-7.7, 31.8))
            ThreePointArc((-7.7, 31.8), (-8.053553391, 31.946446609), (-8.2, 32.3))
            Line((-8.2, 32.3), (-8.2, 37.7))
            ThreePointArc((-8.2, 37.7), (-8.053553391, 38.053553391), (-7.7, 38.2))
            Line((-7.7, 38.2), (-4, 38.2))
            ThreePointArc((-4, 38.2), (-2.444365081, 37.555634919), (-1.8, 36))
        make_face(mode=Mode.SUBTRACT)
    extrude(amount=-BOSS_EXTRU_1_DEPTH)


solid = part.part
